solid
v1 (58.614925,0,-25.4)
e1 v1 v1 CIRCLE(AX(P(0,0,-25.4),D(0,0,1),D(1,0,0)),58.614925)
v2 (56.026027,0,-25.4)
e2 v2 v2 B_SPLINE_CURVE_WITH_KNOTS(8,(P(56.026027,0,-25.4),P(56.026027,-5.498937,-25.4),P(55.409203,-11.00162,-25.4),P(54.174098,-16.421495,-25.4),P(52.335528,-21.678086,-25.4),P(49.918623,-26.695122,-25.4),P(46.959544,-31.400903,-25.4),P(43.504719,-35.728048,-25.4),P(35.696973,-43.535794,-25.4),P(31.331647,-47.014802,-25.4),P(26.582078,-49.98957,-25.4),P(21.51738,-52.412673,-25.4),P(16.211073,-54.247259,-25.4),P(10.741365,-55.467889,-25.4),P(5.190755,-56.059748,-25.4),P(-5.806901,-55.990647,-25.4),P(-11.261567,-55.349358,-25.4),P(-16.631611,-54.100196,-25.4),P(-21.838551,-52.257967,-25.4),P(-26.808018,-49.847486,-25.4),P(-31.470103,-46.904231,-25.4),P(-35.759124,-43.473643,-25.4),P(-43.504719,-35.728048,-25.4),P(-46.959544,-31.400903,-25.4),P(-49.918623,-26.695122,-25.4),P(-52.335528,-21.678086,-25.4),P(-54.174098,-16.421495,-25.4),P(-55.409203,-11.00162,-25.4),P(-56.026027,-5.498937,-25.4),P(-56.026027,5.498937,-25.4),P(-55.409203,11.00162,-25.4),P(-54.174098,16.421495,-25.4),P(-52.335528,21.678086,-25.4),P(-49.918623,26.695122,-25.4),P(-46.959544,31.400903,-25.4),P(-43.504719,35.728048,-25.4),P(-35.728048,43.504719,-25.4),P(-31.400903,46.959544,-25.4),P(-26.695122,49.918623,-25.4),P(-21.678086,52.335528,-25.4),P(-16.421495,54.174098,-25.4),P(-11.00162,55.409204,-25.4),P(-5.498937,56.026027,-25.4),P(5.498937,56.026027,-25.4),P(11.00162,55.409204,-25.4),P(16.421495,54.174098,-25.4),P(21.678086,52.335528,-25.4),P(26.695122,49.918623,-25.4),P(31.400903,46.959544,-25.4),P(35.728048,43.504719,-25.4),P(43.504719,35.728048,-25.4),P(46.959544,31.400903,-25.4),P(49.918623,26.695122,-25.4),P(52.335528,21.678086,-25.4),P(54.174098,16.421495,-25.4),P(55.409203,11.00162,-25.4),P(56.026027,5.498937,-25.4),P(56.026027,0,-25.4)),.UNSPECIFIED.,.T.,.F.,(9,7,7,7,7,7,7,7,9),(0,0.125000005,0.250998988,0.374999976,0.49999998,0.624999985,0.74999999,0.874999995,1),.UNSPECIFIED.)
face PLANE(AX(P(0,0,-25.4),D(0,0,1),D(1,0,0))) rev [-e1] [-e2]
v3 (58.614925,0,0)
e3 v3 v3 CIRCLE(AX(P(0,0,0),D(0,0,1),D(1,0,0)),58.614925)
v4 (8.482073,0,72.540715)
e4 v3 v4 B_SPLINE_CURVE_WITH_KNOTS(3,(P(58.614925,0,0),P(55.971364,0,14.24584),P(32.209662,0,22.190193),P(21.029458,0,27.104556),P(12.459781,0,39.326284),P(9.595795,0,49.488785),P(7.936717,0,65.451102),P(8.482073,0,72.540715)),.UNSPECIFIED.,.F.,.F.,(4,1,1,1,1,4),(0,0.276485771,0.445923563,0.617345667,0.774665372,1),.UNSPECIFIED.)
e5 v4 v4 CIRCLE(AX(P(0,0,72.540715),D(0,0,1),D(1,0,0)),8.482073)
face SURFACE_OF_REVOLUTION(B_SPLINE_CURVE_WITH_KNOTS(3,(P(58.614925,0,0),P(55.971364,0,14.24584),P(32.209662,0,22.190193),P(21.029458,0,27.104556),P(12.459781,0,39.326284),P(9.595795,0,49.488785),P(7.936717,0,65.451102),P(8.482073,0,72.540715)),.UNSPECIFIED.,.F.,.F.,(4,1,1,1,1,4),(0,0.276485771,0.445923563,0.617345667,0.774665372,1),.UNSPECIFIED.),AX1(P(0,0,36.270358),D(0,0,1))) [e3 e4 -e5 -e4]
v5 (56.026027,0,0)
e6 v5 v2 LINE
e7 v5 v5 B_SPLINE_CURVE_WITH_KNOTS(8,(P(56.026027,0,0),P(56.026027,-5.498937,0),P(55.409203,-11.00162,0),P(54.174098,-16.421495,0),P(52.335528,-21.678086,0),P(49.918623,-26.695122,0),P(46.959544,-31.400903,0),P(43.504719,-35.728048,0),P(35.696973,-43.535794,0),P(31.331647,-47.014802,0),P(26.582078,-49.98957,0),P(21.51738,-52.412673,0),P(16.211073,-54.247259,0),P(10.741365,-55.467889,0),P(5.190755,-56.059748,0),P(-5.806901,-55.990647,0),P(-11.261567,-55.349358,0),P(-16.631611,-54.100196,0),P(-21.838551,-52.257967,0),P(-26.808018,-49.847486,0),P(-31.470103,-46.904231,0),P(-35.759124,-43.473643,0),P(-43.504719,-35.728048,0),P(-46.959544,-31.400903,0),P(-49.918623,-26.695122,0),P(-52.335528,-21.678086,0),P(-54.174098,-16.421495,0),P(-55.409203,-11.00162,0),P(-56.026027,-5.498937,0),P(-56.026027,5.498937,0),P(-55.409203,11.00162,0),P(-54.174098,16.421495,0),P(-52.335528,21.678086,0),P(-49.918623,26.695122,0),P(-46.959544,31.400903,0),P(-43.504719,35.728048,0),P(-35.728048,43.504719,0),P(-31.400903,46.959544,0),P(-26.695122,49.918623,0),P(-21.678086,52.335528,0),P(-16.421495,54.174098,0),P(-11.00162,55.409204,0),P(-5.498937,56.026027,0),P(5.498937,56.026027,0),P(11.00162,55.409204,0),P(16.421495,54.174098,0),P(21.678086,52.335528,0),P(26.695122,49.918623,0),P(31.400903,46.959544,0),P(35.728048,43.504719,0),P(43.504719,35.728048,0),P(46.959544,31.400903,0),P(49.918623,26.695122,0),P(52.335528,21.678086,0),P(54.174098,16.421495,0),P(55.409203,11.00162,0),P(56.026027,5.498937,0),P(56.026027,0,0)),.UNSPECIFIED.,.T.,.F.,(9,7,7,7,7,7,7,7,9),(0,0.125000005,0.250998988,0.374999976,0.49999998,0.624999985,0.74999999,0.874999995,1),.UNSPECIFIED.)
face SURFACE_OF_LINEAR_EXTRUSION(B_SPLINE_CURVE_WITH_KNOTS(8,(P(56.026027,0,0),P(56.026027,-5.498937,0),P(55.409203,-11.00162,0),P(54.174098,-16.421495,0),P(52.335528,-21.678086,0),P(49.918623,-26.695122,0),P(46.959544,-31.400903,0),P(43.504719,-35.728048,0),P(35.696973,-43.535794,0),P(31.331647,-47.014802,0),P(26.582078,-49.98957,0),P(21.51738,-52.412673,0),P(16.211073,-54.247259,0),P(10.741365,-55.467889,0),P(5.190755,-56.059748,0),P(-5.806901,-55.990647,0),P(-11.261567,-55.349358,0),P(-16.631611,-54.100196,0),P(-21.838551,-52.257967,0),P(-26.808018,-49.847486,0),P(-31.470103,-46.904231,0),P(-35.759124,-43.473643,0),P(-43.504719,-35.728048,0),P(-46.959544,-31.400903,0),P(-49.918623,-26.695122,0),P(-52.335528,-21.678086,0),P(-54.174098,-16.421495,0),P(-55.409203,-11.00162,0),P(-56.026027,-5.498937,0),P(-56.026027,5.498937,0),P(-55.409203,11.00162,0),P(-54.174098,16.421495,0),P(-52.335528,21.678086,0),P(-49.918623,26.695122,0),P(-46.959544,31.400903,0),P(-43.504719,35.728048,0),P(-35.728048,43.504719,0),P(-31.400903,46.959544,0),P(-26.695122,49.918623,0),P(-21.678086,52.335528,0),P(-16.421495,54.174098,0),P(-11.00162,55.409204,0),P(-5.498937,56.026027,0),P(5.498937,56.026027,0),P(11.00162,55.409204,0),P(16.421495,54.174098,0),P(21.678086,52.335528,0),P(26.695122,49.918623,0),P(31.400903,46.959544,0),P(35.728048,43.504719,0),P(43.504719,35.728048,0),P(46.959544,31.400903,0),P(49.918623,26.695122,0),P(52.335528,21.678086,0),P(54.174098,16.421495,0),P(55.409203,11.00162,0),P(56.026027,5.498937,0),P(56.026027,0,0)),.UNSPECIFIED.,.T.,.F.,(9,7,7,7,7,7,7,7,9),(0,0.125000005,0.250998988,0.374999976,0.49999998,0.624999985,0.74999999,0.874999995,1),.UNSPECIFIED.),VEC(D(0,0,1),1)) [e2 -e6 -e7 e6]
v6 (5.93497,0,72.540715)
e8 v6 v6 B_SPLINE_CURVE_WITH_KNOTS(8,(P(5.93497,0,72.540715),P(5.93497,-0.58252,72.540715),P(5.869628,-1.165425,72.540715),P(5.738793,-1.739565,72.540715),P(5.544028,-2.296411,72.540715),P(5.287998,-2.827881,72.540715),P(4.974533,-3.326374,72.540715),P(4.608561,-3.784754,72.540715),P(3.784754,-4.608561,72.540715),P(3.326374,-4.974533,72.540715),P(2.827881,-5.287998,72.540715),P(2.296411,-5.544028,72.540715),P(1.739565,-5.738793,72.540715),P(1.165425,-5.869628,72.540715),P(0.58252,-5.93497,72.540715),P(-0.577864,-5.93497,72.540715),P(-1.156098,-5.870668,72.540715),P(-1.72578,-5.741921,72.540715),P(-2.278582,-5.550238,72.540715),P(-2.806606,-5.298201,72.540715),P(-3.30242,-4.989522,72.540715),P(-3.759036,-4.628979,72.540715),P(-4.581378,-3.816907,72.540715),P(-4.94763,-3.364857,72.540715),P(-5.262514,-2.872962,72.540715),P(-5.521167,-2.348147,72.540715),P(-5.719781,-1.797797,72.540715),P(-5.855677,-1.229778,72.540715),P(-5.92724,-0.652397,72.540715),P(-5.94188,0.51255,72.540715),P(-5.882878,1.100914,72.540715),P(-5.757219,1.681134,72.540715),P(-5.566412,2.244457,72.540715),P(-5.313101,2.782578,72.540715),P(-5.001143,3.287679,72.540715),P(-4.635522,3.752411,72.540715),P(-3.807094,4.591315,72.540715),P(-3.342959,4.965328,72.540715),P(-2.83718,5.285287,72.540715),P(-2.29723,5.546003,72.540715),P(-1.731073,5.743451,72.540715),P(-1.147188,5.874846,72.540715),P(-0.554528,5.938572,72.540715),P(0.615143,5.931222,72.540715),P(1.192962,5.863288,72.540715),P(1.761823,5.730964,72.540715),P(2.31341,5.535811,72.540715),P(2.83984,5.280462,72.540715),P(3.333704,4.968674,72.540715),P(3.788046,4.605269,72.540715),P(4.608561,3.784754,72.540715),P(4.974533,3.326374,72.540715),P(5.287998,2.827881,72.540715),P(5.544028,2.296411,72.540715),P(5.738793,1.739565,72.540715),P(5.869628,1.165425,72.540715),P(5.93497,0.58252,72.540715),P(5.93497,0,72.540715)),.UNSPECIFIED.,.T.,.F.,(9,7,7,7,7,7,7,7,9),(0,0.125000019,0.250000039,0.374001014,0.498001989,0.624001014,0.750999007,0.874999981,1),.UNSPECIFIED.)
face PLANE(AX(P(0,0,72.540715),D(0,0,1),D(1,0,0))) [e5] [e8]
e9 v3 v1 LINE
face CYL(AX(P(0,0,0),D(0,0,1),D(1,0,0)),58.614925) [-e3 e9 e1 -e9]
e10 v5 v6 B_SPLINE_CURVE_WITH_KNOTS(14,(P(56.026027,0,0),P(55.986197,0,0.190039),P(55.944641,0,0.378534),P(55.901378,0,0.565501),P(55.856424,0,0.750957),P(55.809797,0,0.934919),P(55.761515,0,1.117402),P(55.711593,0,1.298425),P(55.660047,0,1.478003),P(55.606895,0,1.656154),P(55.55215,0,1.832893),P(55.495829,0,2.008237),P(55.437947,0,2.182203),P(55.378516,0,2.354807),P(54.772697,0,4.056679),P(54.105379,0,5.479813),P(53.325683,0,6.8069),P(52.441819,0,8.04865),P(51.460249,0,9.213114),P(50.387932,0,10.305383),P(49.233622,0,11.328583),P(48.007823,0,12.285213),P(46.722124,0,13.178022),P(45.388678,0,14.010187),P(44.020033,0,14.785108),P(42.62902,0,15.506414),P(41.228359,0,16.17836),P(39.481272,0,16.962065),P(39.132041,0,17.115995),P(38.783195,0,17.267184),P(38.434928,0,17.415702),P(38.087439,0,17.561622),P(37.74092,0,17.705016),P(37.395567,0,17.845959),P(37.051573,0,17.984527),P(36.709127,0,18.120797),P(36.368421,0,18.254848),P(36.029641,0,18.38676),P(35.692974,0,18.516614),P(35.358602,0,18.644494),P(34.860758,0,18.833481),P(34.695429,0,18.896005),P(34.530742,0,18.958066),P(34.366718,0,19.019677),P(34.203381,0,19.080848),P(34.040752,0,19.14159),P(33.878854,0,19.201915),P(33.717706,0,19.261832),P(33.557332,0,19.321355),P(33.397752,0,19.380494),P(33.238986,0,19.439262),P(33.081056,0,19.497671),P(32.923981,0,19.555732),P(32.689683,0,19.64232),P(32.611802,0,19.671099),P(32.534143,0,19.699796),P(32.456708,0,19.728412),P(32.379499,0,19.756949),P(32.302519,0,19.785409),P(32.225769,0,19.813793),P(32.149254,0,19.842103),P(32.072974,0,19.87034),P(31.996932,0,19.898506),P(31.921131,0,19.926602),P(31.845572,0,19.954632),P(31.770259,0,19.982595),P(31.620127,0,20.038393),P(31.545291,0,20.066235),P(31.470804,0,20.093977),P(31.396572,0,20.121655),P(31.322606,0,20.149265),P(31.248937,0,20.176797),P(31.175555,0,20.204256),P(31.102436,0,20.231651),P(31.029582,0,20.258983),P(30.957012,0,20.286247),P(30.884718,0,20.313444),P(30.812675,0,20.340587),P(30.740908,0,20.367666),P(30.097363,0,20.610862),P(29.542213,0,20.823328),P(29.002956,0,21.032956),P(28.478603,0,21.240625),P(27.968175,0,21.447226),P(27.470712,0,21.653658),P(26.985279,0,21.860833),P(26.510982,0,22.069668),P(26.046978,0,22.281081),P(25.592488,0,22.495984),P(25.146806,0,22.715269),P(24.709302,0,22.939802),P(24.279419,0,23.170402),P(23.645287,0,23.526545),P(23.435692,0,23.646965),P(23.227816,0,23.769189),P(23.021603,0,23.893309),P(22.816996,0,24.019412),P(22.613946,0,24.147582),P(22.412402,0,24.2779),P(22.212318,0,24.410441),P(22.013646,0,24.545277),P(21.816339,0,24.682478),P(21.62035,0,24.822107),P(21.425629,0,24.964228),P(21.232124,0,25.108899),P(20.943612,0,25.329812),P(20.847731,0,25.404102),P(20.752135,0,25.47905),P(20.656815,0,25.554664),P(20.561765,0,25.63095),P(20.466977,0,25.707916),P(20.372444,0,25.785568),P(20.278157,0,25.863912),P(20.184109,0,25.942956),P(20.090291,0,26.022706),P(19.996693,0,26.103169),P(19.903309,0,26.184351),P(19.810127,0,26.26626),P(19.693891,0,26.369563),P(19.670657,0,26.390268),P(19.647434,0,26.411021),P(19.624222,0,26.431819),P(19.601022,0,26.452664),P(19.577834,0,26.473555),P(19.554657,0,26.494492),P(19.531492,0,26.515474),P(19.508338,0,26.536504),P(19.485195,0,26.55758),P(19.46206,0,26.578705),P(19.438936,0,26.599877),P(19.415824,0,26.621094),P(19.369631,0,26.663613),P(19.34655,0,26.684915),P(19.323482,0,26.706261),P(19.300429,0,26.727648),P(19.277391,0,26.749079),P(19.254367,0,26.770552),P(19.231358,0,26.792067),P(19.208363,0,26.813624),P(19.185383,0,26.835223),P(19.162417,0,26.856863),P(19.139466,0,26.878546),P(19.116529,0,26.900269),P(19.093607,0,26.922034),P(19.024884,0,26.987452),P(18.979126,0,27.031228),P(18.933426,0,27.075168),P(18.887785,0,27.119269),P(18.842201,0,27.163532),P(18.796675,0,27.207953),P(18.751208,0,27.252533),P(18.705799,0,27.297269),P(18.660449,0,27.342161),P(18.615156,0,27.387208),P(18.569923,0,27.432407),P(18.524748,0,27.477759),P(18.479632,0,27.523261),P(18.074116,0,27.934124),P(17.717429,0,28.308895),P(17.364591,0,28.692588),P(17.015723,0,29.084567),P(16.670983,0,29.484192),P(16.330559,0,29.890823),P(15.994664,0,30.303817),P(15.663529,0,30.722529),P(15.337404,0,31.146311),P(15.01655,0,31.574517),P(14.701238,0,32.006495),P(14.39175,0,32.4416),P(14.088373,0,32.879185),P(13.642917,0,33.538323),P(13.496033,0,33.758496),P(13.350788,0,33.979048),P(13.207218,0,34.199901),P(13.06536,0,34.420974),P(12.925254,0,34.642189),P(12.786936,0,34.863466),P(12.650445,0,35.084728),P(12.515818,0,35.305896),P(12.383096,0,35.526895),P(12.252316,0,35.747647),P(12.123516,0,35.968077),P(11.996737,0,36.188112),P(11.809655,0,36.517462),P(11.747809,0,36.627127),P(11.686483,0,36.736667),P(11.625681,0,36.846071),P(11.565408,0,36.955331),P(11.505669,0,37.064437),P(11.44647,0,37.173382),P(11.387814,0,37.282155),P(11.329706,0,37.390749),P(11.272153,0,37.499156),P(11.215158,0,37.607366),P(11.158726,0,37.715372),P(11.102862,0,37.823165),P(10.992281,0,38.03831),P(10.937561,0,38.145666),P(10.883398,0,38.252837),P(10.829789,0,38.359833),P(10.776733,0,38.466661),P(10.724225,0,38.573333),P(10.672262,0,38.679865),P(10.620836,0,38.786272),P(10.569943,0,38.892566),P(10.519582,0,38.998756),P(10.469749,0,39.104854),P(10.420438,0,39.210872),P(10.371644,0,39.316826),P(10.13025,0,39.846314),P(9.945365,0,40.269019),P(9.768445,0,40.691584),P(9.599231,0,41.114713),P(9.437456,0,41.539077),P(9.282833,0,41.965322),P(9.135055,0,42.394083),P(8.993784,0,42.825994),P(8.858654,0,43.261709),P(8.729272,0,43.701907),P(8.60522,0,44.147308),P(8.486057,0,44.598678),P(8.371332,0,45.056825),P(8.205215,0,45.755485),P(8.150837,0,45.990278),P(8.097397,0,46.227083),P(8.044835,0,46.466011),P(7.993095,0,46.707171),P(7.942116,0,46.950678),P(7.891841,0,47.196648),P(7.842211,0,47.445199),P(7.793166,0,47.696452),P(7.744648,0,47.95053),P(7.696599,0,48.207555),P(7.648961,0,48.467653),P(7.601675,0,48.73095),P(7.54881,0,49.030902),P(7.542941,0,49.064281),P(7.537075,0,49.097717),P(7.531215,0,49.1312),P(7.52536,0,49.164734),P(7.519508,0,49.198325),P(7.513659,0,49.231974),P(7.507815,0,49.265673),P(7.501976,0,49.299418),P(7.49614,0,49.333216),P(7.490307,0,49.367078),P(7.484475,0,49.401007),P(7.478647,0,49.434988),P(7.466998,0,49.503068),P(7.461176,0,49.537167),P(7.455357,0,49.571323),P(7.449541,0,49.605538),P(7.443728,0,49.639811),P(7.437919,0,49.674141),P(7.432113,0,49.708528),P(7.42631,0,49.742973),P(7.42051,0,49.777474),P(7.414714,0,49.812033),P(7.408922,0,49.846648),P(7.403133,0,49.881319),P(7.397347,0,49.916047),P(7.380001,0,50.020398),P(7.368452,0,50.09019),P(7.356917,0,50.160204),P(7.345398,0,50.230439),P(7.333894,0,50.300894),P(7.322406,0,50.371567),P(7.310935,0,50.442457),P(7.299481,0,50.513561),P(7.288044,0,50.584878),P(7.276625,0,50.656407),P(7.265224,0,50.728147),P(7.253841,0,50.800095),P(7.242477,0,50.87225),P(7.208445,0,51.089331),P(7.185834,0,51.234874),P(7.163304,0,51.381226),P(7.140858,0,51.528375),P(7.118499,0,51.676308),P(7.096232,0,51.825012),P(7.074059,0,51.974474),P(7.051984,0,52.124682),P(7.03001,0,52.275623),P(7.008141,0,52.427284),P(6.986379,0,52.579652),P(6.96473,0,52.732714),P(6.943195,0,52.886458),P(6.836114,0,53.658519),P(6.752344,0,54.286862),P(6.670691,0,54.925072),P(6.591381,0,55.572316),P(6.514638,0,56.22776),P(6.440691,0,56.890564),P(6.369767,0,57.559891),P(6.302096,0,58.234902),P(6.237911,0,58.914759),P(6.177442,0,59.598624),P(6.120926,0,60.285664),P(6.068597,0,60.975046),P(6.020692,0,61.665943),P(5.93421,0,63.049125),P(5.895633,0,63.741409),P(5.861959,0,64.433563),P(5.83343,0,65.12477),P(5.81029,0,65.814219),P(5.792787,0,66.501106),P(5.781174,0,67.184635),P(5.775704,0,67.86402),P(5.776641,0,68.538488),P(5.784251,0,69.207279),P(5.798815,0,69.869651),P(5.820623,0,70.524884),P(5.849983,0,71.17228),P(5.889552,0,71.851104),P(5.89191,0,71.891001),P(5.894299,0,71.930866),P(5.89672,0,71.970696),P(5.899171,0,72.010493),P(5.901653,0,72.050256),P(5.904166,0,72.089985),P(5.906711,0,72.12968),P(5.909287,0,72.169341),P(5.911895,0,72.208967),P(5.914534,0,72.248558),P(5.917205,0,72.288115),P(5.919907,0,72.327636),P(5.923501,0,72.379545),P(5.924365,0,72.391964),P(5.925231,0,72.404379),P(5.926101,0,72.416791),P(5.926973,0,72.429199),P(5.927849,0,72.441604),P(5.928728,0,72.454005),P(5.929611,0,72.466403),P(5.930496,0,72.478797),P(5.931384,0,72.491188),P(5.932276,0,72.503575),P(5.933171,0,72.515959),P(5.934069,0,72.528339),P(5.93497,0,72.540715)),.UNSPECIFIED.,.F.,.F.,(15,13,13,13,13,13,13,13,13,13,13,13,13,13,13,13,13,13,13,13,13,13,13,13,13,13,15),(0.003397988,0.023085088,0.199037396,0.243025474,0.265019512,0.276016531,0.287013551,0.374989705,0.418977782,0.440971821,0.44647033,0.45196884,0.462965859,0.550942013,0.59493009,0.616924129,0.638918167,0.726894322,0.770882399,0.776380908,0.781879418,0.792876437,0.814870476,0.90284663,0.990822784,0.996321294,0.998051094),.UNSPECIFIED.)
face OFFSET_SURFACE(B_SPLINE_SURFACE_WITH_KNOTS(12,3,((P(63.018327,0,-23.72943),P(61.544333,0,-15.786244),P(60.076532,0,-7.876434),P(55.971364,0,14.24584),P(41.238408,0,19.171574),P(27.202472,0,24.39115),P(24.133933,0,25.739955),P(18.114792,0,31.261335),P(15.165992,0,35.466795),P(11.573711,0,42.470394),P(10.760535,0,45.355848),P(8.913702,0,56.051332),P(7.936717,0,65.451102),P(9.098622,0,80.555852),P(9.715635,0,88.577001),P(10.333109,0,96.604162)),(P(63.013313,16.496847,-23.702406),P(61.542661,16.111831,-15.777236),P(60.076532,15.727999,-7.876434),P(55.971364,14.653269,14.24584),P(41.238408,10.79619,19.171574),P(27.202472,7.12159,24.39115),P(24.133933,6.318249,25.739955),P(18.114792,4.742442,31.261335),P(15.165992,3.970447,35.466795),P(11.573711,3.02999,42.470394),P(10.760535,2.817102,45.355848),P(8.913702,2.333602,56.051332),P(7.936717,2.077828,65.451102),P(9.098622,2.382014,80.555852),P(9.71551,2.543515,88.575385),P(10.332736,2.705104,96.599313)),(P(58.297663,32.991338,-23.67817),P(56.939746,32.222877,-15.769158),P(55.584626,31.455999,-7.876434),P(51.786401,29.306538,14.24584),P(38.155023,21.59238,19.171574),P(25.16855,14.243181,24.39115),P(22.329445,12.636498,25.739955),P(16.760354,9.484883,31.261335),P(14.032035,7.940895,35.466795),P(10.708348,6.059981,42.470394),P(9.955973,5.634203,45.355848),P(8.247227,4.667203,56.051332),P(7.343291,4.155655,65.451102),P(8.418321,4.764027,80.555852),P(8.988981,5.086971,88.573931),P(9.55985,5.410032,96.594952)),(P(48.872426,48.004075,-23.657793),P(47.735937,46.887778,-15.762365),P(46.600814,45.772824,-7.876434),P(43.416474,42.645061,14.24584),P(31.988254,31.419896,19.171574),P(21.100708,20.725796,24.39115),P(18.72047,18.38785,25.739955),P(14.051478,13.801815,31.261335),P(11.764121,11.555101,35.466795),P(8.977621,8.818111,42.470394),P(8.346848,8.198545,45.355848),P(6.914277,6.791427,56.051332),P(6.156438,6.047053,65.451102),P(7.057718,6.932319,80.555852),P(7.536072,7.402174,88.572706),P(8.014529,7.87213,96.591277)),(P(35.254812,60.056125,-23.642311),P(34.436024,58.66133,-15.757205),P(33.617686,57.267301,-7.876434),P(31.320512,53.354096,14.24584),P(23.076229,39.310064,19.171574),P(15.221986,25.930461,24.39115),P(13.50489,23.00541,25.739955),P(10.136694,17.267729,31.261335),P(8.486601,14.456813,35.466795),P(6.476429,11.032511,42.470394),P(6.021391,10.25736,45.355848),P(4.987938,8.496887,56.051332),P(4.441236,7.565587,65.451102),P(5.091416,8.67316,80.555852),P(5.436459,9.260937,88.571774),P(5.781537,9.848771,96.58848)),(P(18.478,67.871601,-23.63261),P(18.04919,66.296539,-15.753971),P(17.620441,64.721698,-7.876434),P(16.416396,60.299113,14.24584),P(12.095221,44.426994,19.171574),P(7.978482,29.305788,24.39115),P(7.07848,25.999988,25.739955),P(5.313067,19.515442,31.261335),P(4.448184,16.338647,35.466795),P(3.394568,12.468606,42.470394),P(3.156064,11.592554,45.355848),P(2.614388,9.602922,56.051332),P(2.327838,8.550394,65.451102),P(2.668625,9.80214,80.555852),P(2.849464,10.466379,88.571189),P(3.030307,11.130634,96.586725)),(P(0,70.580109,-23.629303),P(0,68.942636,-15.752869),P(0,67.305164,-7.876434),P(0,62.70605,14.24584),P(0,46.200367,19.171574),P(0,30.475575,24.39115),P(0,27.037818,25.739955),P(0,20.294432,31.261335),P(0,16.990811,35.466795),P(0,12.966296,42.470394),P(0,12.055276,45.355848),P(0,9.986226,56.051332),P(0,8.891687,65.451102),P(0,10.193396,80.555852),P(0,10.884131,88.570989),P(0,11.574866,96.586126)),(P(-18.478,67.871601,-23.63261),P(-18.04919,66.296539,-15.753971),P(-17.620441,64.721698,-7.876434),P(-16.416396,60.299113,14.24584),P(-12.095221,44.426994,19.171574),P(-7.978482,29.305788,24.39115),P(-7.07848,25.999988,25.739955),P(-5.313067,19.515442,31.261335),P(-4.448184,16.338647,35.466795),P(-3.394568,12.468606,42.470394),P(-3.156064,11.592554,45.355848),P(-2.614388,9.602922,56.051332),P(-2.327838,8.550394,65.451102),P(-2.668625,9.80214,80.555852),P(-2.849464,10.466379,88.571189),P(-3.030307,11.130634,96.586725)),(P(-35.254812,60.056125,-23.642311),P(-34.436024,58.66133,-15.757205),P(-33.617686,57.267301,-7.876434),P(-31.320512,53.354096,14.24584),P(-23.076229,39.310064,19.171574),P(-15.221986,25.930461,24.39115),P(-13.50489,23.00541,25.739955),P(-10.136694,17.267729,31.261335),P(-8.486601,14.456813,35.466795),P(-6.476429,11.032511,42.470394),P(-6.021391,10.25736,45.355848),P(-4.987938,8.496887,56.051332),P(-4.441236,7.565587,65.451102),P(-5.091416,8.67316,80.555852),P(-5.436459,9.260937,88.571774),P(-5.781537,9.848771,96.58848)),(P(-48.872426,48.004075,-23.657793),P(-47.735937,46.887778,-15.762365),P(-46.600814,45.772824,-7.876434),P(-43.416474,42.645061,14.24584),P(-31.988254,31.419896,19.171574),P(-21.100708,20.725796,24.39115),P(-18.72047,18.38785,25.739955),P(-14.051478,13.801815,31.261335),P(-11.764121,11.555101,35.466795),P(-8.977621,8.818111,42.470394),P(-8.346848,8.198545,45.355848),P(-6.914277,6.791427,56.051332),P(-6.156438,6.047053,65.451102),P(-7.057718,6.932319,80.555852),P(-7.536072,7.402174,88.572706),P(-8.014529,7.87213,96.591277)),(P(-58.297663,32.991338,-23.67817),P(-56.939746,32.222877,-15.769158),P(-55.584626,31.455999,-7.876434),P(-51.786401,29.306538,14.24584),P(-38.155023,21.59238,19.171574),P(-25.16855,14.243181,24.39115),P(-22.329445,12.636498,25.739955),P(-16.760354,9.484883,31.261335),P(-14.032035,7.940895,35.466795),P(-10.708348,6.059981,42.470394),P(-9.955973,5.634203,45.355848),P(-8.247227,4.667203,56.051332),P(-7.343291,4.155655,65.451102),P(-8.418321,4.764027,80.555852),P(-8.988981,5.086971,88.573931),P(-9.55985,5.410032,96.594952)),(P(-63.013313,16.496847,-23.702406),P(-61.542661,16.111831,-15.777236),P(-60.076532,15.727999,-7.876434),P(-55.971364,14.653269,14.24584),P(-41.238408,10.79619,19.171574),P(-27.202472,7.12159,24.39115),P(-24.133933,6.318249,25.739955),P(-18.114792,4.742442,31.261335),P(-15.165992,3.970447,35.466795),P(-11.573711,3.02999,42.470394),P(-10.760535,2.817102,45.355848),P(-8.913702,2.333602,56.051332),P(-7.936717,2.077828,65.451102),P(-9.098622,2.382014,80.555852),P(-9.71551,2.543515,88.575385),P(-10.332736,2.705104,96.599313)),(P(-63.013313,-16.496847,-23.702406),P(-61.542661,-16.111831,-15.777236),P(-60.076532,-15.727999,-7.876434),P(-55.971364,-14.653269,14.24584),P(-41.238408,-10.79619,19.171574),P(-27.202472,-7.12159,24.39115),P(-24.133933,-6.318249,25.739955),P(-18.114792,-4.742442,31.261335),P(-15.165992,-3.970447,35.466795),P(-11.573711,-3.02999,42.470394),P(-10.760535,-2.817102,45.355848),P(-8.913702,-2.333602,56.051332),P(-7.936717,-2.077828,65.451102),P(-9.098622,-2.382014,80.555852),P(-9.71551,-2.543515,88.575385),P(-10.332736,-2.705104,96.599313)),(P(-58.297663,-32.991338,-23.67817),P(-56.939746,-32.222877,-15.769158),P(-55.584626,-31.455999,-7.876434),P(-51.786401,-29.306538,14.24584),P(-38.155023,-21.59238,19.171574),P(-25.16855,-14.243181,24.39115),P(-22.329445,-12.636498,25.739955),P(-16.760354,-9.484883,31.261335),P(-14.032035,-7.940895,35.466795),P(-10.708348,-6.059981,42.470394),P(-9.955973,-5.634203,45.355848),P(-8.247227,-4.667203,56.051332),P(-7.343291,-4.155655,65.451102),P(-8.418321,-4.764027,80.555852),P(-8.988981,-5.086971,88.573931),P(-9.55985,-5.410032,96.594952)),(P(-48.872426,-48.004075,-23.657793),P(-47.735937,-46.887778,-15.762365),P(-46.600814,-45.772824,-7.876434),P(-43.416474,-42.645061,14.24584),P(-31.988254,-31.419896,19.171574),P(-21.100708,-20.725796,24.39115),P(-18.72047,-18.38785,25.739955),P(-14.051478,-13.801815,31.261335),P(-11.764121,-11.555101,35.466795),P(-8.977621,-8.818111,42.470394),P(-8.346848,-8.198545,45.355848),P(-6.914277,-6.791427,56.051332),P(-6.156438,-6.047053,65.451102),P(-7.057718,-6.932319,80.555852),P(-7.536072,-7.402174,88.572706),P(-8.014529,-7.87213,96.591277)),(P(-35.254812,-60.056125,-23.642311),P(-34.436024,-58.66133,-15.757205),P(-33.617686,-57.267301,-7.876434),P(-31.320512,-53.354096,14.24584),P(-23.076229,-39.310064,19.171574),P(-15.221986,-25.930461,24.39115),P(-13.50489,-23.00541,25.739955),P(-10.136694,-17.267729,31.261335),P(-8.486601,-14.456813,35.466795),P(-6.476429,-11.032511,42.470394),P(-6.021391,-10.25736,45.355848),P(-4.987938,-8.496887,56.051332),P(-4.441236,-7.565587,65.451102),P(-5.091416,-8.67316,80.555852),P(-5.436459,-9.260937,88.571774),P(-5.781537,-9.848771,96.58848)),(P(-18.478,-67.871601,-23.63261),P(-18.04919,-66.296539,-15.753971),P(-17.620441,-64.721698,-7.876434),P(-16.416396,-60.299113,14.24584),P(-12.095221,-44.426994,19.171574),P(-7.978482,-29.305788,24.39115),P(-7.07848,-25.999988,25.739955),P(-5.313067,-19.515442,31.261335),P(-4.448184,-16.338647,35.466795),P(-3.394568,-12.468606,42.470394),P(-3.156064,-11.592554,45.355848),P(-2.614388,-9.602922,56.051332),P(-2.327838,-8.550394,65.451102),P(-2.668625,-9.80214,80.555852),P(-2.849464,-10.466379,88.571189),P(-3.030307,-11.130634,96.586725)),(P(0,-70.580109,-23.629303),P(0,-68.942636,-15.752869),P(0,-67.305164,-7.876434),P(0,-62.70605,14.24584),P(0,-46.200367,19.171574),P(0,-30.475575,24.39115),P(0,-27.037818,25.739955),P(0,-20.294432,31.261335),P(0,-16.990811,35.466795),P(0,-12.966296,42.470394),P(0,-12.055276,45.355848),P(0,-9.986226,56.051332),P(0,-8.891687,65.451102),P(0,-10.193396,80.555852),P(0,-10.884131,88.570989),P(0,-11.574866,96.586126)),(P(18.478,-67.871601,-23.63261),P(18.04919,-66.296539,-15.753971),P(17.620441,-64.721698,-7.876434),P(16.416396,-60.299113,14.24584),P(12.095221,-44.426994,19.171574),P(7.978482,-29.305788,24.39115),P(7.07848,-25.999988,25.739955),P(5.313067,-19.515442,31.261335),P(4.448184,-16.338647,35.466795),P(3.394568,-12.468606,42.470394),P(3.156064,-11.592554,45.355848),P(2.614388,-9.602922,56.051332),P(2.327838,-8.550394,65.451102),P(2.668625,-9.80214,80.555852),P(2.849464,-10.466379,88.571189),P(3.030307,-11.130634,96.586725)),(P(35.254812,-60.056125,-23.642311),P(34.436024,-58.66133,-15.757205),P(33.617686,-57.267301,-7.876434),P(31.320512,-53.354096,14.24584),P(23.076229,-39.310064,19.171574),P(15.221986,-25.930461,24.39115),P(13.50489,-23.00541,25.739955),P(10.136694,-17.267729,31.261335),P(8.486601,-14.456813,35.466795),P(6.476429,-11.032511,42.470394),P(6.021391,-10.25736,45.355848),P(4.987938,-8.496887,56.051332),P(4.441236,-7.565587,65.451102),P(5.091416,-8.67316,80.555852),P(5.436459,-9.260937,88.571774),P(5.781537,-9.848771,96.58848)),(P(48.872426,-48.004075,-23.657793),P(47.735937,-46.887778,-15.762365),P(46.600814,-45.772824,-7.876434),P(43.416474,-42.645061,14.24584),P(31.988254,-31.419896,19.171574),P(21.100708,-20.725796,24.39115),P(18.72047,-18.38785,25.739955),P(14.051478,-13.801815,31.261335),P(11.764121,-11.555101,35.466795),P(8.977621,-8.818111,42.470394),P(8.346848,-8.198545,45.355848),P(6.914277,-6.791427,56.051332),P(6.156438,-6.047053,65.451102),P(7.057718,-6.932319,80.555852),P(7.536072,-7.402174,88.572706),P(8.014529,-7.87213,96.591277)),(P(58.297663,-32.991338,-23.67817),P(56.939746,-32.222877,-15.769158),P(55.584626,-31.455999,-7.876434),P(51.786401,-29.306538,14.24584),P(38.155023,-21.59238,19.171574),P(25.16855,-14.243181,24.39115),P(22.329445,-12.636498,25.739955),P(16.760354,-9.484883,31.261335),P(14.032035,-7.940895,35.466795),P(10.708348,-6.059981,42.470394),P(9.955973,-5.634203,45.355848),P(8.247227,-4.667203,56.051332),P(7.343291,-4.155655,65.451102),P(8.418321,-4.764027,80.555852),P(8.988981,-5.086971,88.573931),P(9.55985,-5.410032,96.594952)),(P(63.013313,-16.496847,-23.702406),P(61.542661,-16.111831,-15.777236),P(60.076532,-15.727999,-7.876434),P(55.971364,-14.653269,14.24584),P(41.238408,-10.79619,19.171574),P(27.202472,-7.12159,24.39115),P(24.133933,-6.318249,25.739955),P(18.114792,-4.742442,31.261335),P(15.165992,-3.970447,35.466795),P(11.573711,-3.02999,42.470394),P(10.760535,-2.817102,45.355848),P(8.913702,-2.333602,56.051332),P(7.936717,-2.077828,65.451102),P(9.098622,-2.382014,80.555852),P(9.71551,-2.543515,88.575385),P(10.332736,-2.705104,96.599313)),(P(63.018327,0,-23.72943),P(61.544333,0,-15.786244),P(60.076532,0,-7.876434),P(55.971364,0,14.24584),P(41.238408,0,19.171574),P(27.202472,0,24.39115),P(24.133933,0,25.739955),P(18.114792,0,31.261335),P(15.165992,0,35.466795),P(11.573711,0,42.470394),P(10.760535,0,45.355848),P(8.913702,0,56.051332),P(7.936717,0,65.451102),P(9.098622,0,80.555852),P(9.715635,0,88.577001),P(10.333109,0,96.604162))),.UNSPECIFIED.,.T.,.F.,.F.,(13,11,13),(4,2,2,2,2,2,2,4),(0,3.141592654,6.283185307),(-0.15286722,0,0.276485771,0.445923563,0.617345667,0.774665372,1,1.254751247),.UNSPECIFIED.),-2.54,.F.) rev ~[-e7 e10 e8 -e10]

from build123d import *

# Parameters (mm, degrees)
F2_T     = -2.54
F3_DEPTH = 25.4


with BuildPart() as f1:
    # F0 (on Front) → F1 (revolve)
    with BuildSketch(Plane.XZ):
        with BuildLine():
            Line((0, 72.5407153368), (0, 0))
            Line((0, 0), (58.6149245501, 0))
            add(Edge.make_bspline(
                [(58.6149245501, 0), (55.9713644566, 14.2458403306), (32.2096622383, 22.1901931416), (21.0294584005, 27.104555627), (12.4597813272, 39.3262840781), (9.5957945579, 49.4887854359), (7.9367168826, 65.4511018078), (8.4820725024, 72.5407153368)],
                knots=[0, 0, 0, 0, 0.2764857715, 0.4459235627, 0.6173456673, 0.7746653717, 1, 1, 1, 1], degree=3))
            Line((8.4820725024, 72.5407153368), (0, 72.5407153368))
        make_face()
    revolve(axis=Axis((0, 0, 36.2703576684), (0, 0, 1)))

    # F2
    f2_openings = [f1.faces().sort_by_distance(p)[0] for p in [
        (0, 0, 0),
        (0, 0, 72.540715),
    ]]
    offset(amount=F2_T, openings=f2_openings)

    # F3 (add): a face of the model
    f3_faces = [f1.faces().sort_by_distance(p)[0] for p in [
        (-56.9570441221, 0, 0),
    ]]
    extrude(f3_faces, amount=F3_DEPTH)


solid = f1.part
